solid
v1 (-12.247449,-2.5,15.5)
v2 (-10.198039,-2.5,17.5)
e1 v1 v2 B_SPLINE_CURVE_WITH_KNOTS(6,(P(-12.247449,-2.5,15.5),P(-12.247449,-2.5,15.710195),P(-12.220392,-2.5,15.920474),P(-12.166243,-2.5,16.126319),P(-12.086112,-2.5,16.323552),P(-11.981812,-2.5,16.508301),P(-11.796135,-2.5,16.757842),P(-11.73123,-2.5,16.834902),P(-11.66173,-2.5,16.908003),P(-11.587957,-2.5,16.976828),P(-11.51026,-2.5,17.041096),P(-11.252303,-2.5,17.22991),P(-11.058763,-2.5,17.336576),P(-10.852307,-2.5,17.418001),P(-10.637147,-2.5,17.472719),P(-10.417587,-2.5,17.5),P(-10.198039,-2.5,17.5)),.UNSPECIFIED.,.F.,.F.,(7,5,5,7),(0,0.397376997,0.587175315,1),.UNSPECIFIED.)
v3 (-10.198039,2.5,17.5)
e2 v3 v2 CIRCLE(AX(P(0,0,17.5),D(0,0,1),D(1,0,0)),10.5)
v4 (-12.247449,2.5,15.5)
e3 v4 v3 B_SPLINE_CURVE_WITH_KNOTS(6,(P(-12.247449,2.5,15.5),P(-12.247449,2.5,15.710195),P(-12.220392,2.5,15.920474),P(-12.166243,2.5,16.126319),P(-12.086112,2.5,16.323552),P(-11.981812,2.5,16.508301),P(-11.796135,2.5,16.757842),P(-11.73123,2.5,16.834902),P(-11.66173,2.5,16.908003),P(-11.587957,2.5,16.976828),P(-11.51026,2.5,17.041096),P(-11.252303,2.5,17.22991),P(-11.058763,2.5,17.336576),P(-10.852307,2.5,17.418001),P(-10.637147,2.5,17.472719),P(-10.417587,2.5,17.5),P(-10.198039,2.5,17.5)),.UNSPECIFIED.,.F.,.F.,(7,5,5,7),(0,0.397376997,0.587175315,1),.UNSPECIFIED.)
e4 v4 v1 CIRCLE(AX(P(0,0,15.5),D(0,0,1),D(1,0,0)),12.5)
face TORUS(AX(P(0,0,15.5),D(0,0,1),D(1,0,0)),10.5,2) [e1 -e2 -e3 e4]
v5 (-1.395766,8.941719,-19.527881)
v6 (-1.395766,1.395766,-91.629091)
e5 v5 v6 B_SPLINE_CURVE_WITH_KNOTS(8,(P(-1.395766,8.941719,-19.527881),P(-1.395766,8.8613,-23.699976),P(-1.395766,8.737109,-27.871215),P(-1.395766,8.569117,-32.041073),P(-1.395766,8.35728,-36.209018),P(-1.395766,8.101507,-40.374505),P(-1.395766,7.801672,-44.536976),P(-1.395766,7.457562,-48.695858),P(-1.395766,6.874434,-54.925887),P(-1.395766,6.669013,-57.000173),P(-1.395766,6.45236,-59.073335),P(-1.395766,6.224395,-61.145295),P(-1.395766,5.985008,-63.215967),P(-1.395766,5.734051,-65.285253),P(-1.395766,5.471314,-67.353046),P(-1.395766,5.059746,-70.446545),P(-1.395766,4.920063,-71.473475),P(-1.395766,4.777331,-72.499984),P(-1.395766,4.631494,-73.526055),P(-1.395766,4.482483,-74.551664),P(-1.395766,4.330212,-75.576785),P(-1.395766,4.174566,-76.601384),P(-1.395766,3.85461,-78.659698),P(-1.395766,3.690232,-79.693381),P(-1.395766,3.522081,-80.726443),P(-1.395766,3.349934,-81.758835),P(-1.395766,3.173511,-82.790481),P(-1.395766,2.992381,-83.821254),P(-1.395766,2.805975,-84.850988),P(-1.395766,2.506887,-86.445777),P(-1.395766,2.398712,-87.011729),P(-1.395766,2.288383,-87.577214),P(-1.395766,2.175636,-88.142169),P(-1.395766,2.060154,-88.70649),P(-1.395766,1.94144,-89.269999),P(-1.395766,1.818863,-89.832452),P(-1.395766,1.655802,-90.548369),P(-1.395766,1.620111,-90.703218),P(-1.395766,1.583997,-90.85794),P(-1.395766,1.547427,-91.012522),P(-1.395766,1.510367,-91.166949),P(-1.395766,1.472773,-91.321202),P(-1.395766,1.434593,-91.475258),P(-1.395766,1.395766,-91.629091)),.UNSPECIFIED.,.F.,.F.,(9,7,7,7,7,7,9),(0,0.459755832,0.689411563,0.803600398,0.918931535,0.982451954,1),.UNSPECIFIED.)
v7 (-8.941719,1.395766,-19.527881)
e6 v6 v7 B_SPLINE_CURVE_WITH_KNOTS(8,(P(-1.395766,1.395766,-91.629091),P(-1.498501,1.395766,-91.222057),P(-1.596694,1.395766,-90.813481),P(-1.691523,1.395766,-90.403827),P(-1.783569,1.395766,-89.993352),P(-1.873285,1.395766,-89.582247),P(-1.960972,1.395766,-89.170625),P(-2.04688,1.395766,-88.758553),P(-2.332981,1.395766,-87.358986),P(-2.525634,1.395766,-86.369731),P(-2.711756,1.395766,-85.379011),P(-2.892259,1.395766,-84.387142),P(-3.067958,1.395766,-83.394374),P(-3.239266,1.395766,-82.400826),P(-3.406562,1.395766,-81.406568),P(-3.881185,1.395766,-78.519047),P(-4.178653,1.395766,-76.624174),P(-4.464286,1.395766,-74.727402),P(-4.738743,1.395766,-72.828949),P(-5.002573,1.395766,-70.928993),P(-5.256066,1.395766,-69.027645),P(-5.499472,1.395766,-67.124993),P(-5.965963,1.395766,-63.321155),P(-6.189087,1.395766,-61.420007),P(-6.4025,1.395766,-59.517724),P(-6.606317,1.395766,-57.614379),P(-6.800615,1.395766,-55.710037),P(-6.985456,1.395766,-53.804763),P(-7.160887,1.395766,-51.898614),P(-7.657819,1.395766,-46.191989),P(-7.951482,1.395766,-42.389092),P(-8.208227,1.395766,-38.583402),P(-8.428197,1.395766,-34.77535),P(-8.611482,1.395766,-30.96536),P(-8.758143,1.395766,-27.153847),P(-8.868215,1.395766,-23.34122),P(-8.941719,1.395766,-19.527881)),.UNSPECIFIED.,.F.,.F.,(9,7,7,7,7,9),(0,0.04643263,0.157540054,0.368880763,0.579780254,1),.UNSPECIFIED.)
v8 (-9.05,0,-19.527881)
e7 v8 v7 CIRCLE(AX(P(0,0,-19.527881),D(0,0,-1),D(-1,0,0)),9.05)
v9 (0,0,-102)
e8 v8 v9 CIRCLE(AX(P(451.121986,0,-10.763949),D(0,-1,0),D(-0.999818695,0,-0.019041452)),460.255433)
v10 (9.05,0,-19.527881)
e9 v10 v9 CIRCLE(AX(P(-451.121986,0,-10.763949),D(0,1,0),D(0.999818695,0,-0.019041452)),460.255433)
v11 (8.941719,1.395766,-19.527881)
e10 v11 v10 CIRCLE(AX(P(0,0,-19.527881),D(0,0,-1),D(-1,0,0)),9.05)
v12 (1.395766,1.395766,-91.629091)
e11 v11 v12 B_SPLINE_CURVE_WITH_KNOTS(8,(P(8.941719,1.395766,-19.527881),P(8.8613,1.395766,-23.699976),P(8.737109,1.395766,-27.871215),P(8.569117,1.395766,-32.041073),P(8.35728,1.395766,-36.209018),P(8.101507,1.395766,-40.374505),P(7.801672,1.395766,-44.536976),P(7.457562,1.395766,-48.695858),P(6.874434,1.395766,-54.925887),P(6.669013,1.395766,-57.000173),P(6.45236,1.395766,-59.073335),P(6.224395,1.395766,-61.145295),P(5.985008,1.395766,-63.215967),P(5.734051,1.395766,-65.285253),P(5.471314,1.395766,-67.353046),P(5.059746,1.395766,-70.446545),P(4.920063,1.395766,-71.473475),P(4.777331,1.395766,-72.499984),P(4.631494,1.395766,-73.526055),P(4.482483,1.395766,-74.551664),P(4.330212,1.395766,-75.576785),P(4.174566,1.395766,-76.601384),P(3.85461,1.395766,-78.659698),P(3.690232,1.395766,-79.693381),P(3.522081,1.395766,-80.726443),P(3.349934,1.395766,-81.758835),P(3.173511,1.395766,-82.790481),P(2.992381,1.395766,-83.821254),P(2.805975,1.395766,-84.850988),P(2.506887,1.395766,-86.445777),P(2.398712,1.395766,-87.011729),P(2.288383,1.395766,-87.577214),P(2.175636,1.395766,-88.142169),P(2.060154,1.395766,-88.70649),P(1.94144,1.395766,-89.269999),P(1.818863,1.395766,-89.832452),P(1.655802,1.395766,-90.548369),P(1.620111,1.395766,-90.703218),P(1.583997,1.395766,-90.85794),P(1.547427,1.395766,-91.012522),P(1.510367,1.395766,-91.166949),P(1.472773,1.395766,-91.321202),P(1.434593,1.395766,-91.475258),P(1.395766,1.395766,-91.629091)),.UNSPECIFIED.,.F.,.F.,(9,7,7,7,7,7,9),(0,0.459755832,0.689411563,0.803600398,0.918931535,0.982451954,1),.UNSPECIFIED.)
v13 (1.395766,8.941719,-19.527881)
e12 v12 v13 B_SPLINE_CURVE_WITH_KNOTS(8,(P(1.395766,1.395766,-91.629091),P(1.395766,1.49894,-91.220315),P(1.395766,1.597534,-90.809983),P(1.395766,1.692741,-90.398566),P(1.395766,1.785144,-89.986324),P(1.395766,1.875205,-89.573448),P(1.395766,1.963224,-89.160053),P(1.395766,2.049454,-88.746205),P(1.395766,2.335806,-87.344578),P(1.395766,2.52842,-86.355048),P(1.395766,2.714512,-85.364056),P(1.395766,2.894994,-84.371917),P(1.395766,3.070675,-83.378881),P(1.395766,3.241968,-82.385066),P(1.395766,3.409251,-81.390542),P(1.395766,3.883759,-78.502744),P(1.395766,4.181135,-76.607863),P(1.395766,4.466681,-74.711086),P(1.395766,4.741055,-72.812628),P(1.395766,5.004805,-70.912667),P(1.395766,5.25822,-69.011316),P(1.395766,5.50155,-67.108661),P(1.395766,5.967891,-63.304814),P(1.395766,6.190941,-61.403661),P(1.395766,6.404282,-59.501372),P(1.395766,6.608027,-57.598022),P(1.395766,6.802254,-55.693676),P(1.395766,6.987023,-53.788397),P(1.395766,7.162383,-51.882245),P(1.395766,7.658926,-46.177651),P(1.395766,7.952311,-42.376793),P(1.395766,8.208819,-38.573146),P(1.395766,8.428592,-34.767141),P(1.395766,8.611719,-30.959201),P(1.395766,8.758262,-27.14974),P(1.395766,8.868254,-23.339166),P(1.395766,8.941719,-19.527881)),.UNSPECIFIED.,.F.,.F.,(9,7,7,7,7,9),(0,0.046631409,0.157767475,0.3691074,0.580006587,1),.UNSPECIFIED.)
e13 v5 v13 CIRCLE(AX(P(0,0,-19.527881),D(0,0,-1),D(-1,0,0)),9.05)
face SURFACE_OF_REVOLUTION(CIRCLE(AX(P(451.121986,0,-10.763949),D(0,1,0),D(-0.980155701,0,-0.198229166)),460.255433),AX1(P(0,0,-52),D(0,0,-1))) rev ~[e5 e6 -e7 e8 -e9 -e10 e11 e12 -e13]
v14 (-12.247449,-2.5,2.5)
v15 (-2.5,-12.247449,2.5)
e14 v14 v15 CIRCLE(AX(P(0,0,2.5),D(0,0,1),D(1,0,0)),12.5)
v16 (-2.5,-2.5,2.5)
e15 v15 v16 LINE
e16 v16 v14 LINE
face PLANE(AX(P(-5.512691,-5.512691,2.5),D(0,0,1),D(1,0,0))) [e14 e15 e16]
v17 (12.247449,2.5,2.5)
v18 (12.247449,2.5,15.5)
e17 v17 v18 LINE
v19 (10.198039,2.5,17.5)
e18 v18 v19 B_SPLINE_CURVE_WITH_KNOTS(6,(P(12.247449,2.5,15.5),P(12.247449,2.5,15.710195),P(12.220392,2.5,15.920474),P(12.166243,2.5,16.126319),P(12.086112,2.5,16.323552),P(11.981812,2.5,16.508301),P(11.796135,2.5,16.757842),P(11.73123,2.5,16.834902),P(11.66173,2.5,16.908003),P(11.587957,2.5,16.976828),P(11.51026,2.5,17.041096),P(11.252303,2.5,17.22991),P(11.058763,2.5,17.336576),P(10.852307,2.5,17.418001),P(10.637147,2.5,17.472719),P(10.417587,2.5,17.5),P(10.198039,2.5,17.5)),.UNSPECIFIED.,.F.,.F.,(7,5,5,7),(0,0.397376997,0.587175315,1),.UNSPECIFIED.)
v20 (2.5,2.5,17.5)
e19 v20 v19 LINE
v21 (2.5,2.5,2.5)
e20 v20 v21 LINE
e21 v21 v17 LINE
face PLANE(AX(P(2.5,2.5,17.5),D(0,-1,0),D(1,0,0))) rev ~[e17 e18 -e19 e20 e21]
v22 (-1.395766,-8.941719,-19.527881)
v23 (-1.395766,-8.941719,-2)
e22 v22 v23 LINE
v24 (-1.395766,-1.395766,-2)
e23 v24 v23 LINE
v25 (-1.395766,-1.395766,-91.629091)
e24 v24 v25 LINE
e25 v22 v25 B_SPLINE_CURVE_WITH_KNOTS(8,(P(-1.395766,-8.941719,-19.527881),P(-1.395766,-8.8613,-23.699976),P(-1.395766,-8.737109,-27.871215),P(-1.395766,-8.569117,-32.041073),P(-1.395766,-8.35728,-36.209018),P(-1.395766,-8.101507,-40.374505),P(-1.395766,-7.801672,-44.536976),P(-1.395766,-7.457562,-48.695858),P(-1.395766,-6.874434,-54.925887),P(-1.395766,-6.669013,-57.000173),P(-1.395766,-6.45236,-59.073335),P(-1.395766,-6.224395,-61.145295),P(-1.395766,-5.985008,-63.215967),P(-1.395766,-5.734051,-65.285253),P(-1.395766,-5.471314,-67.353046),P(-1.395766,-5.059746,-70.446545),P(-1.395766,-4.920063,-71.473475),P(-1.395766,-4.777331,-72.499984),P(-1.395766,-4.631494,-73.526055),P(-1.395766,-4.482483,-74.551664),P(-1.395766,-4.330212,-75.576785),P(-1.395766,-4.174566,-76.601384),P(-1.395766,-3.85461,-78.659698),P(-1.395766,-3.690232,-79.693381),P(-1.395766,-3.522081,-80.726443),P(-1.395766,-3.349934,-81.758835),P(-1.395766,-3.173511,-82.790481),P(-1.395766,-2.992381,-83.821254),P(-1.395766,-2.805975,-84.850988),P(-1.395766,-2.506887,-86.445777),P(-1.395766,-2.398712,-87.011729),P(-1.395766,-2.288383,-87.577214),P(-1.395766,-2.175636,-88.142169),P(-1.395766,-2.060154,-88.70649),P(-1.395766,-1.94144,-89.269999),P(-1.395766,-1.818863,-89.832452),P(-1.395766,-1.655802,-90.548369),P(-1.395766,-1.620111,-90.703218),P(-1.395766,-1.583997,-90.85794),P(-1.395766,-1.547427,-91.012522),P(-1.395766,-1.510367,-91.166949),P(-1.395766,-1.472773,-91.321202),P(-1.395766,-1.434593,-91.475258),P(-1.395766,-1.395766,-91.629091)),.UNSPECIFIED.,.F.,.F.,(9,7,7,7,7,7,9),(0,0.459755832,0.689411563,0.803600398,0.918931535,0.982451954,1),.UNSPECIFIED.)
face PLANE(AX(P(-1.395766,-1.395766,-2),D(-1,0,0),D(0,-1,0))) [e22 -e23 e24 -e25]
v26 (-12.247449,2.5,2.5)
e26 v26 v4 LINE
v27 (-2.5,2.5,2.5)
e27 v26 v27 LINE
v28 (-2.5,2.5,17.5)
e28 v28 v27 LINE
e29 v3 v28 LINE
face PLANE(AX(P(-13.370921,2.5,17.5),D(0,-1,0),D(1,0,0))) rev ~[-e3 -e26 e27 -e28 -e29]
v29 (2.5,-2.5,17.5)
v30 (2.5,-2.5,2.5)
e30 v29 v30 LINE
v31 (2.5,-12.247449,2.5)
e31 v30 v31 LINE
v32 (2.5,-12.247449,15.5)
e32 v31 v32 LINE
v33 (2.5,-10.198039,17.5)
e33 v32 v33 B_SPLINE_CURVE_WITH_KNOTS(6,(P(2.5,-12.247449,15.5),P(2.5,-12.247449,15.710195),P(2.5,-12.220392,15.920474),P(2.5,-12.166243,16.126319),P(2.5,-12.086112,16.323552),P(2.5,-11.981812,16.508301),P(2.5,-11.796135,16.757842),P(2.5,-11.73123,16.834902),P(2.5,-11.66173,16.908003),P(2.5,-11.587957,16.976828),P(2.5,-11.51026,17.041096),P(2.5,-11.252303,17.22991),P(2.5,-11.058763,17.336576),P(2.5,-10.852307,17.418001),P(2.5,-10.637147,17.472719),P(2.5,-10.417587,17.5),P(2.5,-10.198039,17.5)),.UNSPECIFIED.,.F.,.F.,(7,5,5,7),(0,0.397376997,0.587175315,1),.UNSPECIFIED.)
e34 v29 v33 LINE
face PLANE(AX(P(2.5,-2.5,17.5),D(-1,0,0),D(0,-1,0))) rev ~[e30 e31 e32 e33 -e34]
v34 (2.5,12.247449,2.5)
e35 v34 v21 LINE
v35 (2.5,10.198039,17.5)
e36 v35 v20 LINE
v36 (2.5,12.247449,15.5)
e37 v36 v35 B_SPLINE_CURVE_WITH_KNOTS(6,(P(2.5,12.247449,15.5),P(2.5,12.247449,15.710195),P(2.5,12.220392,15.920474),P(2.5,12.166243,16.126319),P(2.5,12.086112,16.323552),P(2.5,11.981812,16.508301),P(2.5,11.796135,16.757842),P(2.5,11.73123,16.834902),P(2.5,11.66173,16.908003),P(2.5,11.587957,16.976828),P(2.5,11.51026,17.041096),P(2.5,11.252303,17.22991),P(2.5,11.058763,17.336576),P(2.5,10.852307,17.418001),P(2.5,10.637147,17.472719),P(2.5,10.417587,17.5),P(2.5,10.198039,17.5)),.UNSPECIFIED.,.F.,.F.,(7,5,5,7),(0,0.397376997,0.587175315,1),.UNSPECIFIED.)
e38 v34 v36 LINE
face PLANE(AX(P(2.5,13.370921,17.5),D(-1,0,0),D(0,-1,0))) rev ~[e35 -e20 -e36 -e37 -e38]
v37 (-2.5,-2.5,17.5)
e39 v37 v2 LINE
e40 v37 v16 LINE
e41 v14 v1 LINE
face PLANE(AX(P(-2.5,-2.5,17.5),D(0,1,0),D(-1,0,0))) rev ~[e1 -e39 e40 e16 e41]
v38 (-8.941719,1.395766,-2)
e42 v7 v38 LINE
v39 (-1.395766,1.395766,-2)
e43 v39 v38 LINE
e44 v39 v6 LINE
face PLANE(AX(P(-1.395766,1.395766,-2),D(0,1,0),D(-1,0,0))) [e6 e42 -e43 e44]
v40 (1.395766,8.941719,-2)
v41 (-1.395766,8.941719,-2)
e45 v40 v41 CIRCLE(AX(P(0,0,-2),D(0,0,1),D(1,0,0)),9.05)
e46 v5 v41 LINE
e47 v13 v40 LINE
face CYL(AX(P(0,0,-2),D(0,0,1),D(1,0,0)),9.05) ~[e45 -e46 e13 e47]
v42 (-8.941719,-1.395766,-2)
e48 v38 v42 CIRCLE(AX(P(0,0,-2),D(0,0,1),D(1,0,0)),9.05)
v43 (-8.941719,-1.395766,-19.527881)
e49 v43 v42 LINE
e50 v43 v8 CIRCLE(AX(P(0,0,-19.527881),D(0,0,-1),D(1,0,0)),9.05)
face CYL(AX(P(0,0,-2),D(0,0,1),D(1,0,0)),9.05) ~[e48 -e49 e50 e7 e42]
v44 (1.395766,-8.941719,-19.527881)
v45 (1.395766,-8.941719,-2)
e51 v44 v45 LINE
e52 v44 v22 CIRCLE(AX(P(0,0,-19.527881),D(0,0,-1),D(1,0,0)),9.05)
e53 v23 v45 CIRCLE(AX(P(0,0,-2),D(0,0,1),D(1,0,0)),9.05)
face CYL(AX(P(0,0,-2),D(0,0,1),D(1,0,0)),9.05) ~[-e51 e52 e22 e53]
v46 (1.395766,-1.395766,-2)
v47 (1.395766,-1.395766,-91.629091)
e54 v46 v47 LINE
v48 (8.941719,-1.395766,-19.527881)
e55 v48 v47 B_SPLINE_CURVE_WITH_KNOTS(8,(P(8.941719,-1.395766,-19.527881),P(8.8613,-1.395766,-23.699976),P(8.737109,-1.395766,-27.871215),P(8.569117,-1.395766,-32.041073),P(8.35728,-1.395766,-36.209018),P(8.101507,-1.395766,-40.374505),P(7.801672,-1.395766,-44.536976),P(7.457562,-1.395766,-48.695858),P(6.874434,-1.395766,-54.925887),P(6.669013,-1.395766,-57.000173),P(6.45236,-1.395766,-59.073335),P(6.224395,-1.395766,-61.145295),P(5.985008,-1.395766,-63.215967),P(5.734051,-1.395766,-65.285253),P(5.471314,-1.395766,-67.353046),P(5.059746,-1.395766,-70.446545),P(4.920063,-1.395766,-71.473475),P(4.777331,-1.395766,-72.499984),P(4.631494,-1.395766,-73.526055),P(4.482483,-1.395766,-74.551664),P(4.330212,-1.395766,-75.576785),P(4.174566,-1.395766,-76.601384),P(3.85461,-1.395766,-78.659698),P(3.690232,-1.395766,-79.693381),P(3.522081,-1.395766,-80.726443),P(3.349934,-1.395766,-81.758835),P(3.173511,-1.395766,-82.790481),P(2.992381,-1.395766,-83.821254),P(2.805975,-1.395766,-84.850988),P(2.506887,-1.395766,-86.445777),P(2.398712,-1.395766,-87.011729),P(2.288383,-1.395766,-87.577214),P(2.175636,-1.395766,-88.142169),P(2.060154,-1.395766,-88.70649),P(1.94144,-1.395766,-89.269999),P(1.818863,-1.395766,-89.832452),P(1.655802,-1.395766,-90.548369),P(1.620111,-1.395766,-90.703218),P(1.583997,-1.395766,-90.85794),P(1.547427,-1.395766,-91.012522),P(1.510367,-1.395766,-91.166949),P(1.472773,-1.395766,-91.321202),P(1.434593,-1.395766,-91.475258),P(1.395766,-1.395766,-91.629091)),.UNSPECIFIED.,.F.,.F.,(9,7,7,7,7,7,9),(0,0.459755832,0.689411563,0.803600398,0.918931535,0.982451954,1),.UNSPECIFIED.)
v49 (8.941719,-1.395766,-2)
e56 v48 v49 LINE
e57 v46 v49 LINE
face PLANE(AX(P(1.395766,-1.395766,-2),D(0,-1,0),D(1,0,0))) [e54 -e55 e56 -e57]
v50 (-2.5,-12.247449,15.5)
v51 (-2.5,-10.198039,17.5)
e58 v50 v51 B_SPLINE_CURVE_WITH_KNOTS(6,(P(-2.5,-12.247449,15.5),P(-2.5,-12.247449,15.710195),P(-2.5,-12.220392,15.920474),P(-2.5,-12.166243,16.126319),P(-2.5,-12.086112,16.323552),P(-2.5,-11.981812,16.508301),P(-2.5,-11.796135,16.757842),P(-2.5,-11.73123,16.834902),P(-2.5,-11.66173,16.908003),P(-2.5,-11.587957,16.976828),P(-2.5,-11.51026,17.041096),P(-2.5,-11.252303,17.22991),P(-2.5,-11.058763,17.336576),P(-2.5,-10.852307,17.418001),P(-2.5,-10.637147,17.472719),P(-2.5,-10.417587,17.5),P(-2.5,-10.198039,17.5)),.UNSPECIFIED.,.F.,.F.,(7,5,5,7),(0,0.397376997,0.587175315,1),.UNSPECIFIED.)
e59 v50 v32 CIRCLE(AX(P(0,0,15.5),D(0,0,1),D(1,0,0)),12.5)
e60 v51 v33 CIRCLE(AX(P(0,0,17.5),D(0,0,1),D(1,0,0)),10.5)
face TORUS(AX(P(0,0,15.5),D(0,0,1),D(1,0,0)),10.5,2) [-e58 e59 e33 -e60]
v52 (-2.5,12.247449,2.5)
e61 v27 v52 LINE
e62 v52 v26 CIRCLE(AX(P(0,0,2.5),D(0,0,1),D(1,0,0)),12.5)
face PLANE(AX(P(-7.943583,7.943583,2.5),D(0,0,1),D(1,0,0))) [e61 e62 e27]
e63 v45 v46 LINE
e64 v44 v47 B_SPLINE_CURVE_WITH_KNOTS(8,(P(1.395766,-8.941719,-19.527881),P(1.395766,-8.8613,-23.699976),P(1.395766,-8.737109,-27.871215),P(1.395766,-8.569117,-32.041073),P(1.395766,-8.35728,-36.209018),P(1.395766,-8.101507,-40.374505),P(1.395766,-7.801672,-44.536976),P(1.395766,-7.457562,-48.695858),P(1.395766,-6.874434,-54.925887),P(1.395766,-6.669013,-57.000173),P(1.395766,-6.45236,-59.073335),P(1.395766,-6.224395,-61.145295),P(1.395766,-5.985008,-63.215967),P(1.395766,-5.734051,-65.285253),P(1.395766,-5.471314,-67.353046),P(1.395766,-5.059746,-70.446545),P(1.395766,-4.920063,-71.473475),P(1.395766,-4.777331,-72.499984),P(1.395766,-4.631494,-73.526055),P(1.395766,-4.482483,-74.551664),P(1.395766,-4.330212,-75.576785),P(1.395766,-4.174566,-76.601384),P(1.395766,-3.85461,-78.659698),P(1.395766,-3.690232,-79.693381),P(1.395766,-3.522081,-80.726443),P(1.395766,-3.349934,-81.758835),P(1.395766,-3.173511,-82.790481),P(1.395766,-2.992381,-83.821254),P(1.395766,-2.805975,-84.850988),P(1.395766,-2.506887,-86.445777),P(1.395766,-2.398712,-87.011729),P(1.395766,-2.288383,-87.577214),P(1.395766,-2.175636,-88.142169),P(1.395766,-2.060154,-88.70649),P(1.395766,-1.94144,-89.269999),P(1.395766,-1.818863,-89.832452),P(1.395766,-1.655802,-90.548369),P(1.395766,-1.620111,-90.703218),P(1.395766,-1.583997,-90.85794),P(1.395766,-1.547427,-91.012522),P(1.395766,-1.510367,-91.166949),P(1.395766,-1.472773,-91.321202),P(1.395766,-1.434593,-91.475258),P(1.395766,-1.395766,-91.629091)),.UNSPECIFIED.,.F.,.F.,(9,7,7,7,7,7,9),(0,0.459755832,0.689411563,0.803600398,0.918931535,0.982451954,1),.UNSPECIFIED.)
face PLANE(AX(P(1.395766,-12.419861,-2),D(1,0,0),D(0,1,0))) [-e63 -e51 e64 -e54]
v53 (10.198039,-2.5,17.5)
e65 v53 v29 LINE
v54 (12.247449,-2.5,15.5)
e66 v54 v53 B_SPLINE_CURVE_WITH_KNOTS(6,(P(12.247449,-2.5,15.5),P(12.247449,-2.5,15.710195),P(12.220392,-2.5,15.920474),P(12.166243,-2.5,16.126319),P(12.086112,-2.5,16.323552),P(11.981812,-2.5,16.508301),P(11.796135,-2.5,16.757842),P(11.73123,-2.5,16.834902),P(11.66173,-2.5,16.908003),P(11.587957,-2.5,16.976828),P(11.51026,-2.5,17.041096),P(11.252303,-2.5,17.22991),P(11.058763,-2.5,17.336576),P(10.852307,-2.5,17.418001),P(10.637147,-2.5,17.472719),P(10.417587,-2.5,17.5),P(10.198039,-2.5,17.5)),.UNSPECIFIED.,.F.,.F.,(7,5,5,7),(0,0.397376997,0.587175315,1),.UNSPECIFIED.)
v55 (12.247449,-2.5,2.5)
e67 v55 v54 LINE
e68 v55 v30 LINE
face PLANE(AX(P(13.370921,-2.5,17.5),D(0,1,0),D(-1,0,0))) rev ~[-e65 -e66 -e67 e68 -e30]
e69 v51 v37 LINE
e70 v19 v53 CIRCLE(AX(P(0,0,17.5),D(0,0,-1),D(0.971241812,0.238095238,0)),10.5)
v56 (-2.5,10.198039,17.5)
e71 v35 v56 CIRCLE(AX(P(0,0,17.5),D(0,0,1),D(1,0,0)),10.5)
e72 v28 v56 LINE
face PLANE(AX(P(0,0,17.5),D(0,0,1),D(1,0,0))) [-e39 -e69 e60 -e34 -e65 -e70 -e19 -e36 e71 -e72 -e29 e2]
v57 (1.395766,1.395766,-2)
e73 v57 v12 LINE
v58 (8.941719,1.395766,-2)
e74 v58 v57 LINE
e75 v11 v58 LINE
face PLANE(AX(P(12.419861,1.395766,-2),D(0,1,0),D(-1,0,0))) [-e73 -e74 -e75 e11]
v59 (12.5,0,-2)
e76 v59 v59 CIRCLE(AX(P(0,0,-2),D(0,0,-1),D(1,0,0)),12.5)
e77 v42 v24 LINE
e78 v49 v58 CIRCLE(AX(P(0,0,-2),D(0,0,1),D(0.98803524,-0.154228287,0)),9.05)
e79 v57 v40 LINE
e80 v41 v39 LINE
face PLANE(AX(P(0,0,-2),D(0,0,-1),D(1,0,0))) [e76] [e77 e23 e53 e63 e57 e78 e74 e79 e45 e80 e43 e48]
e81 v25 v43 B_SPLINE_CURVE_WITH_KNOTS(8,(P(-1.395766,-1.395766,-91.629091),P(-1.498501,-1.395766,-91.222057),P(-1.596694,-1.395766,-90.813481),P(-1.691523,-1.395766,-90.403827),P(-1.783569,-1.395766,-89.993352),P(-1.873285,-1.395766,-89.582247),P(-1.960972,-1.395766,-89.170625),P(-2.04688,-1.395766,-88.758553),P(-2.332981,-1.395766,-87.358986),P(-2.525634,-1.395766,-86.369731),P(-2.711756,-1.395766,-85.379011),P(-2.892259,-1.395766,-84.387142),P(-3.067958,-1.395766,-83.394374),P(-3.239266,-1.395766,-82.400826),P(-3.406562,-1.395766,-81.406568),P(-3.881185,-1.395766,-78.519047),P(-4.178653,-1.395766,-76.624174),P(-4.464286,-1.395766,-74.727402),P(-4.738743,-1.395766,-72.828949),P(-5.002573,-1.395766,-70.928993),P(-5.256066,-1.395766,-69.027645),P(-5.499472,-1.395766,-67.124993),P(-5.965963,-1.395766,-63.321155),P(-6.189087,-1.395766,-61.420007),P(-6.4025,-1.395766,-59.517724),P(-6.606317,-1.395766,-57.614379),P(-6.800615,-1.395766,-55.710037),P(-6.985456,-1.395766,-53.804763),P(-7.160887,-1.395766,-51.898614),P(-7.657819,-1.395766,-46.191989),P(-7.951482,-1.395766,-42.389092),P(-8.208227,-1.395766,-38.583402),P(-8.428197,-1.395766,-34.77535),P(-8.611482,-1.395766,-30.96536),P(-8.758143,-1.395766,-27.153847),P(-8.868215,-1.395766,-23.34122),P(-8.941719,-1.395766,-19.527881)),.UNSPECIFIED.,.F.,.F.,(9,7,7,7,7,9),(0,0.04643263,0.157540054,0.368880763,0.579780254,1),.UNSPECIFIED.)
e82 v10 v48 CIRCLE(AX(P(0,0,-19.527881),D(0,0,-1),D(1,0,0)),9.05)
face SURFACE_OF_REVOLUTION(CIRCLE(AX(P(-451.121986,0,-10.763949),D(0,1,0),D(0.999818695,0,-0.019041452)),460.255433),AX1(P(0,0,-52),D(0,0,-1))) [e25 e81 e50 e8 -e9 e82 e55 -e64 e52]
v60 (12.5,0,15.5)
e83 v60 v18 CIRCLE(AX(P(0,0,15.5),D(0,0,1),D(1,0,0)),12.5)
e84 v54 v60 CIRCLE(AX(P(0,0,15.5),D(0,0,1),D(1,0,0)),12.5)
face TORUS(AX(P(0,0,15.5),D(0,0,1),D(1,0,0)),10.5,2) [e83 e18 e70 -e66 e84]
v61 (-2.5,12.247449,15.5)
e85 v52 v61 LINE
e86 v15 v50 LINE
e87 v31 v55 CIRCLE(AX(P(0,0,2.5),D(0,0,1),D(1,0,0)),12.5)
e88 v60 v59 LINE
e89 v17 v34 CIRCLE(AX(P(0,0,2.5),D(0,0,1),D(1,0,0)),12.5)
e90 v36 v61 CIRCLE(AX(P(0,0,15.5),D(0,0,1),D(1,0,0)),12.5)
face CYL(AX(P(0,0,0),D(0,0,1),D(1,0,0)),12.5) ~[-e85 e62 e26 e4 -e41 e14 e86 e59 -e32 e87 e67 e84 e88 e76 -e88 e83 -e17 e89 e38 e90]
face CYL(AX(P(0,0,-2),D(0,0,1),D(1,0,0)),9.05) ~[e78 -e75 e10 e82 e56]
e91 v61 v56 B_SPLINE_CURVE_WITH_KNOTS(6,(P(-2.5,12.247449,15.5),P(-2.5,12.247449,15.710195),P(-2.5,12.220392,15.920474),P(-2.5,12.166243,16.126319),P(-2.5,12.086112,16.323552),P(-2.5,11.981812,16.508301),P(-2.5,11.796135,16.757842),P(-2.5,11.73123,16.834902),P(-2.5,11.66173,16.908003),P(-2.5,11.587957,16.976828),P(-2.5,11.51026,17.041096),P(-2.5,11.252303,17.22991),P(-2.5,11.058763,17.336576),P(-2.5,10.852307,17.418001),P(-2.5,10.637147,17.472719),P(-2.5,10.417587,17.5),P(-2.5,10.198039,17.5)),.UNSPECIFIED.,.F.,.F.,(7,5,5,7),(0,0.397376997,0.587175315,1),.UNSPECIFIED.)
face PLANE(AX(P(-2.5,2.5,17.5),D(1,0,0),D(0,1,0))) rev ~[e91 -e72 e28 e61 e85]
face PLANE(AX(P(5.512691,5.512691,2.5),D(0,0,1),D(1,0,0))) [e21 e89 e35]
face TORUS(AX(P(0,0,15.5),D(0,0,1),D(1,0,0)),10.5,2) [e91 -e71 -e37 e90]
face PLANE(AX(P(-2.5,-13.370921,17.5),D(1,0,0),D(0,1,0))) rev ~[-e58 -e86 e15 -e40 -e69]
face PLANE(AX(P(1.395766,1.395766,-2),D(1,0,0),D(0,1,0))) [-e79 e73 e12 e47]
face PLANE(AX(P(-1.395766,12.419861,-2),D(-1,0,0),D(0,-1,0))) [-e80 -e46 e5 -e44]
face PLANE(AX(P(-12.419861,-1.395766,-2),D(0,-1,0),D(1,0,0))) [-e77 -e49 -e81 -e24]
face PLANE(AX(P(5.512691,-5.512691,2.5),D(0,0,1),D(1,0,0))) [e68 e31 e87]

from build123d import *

# Parameters (mm, degrees)
F0_R      = 12.5
F1_DEPTH  = 17.5
F2_R      = 2
F3_R      = 12.5
F4_DEPTH  = 2
F5_R      = 9.05
F6_DEPTH  = 100
F8_ANGLE  = 180
F10_DEPTH = 100.001
F12_DEPTH = 15


with BuildPart() as f1:
    # F0 (on Top) → F1 (new body)
    with BuildSketch(Plane.XY):
        Circle(F0_R)
    extrude(amount=F1_DEPTH)

    # F2
    f2_edges = [f1.edges().sort_by_distance(p)[0] for p in [
        (-12.5, 0, 17.5),
    ]]
    fillet(f2_edges, radius=F2_R)

    # F3 (on face) → F4 (join)
    with BuildSketch(Plane(origin=(0, 0, 0), x_dir=(1, 0, 0), z_dir=(0, 0, -1))):
        Circle(F3_R)
    extrude(amount=F4_DEPTH)

    # F5 (on face) → F6 (join)
    with BuildSketch(Plane(origin=(0, 0, -2), x_dir=(1, 0, 0), z_dir=(0, 0, -1))):
        Circle(F5_R)
    extrude(amount=F6_DEPTH)

    # F7 (on Front) → F8 (revolve, cut)
    with BuildSketch(Plane.XZ):
        with BuildLine():
            Line((-9.05, -19.527881), (-9.05, -2))
            ThreePointArc((-9.05, -2), (-9.133447, -10.763941), (-9.05, -19.527881))
        make_face()
        with BuildLine():
            Line((9.05, -2), (9.05, -19.527881))
            ThreePointArc((9.05, -19.527881), (9.133447, -10.763941), (9.05, -2))
        make_face()
        with BuildLine():
            ThreePointArc((9.05, -19.527881), (6.387127, -60.968279), (0, -102))
            Line((0, -102), (9.05, -102))
            Line((9.05, -102), (9.05, -19.527881))
        make_face()
        with BuildLine():
            ThreePointArc((0, -102), (-6.387127, -60.968279), (-9.05, -19.527881))
            Line((-9.05, -19.527881), (-9.05, -102))
            Line((-9.05, -102), (0, -102))
        make_face()
    revolve(axis=Axis((0, 0, -52), (0, 0, -1)), revolution_arc=F8_ANGLE, mode=Mode.SUBTRACT)

    # F9 (on face) → F10 (cut, through all)
    with BuildSketch(Plane(origin=(0, 0, -2), x_dir=(1, 0, 0), z_dir=(0, 0, -1))):
        Polygon((-1.395766, -12.419861), (-1.395766, -7.419861), (-1.395766, -1.395766), (-7.419861, -1.395766), (-12.419861, -1.395766), align=None)
        Polygon((-12.419861, 1.395766), (-7.419861, 1.395766), (-1.395766, 1.395766), (-1.395766, 7.419861), (-1.395766, 12.419861), align=None)
        Polygon((1.395766, 12.419861), (1.395766, 7.419861), (1.395766, 1.395766), (7.419861, 1.395766), (12.419861, 1.395766), align=None)
        Polygon((12.419861, -1.395766), (7.419861, -1.395766), (1.395766, -1.395766), (1.395766, -7.419861), (1.395766, -12.419861), align=None)
    extrude(amount=F10_DEPTH, mode=Mode.SUBTRACT)

    # F11 (on face) → F12 (cut)
    with BuildSketch(Plane.XY.offset(17.5)):
        with BuildLine():
            Line((-2.5, -2.5), (-10.198039, -2.5))
            ThreePointArc((-10.198039, -2.5), (-7.424621, -7.424621), (-2.5, -10.198039))
            Line((-2.5, -10.198039), (-2.5, -2.5))
        make_face()
        with BuildLine():
            ThreePointArc((-2.5, -10.198039), (-7.424621, -7.424621), (-10.198039, -2.5))
            Line((-10.198039, -2.5), (-12.067753, -2.5))
            Line((-12.067753, -2.5), (-13.370921, -2.5))
            ThreePointArc((-13.370921, -2.5), (-9.618512, -9.618512), (-2.5, -13.370921))
            Line((-2.5, -13.370921), (-2.5, -10.63198))
            Line((-2.5, -10.63198), (-2.5, -10.198039))
        make_face()
        with BuildLine():
            ThreePointArc((10.198039, 2.5), (7.424621, 7.424621), (2.5, 10.198039))
            Line((2.5, 10.198039), (2.5, 2.5))
            Line((2.5, 2.5), (10.198039, 2.5))
        make_face()
        with BuildLine():
            Line((2.5, 10.63198), (2.5, 10.198039))
            ThreePointArc((2.5, 10.198039), (7.424621, 7.424621), (10.198039, 2.5))
            Line((10.198039, 2.5), (10.63198, 2.5))
            Line((10.63198, 2.5), (13.370921, 2.5))
            ThreePointArc((13.370921, 2.5), (9.618512, 9.618512), (2.5, 13.370921))
            Line((2.5, 13.370921), (2.5, 10.63198))
        make_face()
        with BuildLine():
            ThreePointArc((2.5, -10.198039), (7.424621, -7.424621), (10.198039, -2.5))
            Line((10.198039, -2.5), (2.5, -2.5))
            Line((2.5, -2.5), (2.5, -10.198039))
        make_face()
        with BuildLine():
            Line((10.63198, -2.5), (10.198039, -2.5))
            ThreePointArc((10.198039, -2.5), (7.424621, -7.424621), (2.5, -10.198039))
            Line((2.5, -10.198039), (2.5, -10.63198))
            Line((2.5, -10.63198), (2.5, -13.370921))
            ThreePointArc((2.5, -13.370921), (9.618512, -9.618512), (13.370921, -2.5))
            Line((13.370921, -2.5), (10.63198, -2.5))
        make_face()
        with BuildLine():
            Line((-2.5, 10.198039), (-2.5, 10.63198))
            Line((-2.5, 10.63198), (-2.5, 13.370921))
            ThreePointArc((-2.5, 13.370921), (-9.618512, 9.618512), (-13.370921, 2.5))
            Line((-13.370921, 2.5), (-10.63198, 2.5))
            Line((-10.63198, 2.5), (-10.198039, 2.5))
            ThreePointArc((-10.198039, 2.5), (-7.424621, 7.424621), (-2.5, 10.198039))
        make_face()
        with BuildLine():
            Line((-2.5, 2.5), (-2.5, 10.198039))
            ThreePointArc((-2.5, 10.198039), (-7.424621, 7.424621), (-10.198039, 2.5))
            Line((-10.198039, 2.5), (-2.5, 2.5))
        make_face()
    extrude(amount=-F12_DEPTH, mode=Mode.SUBTRACT)


solid = f1.part
